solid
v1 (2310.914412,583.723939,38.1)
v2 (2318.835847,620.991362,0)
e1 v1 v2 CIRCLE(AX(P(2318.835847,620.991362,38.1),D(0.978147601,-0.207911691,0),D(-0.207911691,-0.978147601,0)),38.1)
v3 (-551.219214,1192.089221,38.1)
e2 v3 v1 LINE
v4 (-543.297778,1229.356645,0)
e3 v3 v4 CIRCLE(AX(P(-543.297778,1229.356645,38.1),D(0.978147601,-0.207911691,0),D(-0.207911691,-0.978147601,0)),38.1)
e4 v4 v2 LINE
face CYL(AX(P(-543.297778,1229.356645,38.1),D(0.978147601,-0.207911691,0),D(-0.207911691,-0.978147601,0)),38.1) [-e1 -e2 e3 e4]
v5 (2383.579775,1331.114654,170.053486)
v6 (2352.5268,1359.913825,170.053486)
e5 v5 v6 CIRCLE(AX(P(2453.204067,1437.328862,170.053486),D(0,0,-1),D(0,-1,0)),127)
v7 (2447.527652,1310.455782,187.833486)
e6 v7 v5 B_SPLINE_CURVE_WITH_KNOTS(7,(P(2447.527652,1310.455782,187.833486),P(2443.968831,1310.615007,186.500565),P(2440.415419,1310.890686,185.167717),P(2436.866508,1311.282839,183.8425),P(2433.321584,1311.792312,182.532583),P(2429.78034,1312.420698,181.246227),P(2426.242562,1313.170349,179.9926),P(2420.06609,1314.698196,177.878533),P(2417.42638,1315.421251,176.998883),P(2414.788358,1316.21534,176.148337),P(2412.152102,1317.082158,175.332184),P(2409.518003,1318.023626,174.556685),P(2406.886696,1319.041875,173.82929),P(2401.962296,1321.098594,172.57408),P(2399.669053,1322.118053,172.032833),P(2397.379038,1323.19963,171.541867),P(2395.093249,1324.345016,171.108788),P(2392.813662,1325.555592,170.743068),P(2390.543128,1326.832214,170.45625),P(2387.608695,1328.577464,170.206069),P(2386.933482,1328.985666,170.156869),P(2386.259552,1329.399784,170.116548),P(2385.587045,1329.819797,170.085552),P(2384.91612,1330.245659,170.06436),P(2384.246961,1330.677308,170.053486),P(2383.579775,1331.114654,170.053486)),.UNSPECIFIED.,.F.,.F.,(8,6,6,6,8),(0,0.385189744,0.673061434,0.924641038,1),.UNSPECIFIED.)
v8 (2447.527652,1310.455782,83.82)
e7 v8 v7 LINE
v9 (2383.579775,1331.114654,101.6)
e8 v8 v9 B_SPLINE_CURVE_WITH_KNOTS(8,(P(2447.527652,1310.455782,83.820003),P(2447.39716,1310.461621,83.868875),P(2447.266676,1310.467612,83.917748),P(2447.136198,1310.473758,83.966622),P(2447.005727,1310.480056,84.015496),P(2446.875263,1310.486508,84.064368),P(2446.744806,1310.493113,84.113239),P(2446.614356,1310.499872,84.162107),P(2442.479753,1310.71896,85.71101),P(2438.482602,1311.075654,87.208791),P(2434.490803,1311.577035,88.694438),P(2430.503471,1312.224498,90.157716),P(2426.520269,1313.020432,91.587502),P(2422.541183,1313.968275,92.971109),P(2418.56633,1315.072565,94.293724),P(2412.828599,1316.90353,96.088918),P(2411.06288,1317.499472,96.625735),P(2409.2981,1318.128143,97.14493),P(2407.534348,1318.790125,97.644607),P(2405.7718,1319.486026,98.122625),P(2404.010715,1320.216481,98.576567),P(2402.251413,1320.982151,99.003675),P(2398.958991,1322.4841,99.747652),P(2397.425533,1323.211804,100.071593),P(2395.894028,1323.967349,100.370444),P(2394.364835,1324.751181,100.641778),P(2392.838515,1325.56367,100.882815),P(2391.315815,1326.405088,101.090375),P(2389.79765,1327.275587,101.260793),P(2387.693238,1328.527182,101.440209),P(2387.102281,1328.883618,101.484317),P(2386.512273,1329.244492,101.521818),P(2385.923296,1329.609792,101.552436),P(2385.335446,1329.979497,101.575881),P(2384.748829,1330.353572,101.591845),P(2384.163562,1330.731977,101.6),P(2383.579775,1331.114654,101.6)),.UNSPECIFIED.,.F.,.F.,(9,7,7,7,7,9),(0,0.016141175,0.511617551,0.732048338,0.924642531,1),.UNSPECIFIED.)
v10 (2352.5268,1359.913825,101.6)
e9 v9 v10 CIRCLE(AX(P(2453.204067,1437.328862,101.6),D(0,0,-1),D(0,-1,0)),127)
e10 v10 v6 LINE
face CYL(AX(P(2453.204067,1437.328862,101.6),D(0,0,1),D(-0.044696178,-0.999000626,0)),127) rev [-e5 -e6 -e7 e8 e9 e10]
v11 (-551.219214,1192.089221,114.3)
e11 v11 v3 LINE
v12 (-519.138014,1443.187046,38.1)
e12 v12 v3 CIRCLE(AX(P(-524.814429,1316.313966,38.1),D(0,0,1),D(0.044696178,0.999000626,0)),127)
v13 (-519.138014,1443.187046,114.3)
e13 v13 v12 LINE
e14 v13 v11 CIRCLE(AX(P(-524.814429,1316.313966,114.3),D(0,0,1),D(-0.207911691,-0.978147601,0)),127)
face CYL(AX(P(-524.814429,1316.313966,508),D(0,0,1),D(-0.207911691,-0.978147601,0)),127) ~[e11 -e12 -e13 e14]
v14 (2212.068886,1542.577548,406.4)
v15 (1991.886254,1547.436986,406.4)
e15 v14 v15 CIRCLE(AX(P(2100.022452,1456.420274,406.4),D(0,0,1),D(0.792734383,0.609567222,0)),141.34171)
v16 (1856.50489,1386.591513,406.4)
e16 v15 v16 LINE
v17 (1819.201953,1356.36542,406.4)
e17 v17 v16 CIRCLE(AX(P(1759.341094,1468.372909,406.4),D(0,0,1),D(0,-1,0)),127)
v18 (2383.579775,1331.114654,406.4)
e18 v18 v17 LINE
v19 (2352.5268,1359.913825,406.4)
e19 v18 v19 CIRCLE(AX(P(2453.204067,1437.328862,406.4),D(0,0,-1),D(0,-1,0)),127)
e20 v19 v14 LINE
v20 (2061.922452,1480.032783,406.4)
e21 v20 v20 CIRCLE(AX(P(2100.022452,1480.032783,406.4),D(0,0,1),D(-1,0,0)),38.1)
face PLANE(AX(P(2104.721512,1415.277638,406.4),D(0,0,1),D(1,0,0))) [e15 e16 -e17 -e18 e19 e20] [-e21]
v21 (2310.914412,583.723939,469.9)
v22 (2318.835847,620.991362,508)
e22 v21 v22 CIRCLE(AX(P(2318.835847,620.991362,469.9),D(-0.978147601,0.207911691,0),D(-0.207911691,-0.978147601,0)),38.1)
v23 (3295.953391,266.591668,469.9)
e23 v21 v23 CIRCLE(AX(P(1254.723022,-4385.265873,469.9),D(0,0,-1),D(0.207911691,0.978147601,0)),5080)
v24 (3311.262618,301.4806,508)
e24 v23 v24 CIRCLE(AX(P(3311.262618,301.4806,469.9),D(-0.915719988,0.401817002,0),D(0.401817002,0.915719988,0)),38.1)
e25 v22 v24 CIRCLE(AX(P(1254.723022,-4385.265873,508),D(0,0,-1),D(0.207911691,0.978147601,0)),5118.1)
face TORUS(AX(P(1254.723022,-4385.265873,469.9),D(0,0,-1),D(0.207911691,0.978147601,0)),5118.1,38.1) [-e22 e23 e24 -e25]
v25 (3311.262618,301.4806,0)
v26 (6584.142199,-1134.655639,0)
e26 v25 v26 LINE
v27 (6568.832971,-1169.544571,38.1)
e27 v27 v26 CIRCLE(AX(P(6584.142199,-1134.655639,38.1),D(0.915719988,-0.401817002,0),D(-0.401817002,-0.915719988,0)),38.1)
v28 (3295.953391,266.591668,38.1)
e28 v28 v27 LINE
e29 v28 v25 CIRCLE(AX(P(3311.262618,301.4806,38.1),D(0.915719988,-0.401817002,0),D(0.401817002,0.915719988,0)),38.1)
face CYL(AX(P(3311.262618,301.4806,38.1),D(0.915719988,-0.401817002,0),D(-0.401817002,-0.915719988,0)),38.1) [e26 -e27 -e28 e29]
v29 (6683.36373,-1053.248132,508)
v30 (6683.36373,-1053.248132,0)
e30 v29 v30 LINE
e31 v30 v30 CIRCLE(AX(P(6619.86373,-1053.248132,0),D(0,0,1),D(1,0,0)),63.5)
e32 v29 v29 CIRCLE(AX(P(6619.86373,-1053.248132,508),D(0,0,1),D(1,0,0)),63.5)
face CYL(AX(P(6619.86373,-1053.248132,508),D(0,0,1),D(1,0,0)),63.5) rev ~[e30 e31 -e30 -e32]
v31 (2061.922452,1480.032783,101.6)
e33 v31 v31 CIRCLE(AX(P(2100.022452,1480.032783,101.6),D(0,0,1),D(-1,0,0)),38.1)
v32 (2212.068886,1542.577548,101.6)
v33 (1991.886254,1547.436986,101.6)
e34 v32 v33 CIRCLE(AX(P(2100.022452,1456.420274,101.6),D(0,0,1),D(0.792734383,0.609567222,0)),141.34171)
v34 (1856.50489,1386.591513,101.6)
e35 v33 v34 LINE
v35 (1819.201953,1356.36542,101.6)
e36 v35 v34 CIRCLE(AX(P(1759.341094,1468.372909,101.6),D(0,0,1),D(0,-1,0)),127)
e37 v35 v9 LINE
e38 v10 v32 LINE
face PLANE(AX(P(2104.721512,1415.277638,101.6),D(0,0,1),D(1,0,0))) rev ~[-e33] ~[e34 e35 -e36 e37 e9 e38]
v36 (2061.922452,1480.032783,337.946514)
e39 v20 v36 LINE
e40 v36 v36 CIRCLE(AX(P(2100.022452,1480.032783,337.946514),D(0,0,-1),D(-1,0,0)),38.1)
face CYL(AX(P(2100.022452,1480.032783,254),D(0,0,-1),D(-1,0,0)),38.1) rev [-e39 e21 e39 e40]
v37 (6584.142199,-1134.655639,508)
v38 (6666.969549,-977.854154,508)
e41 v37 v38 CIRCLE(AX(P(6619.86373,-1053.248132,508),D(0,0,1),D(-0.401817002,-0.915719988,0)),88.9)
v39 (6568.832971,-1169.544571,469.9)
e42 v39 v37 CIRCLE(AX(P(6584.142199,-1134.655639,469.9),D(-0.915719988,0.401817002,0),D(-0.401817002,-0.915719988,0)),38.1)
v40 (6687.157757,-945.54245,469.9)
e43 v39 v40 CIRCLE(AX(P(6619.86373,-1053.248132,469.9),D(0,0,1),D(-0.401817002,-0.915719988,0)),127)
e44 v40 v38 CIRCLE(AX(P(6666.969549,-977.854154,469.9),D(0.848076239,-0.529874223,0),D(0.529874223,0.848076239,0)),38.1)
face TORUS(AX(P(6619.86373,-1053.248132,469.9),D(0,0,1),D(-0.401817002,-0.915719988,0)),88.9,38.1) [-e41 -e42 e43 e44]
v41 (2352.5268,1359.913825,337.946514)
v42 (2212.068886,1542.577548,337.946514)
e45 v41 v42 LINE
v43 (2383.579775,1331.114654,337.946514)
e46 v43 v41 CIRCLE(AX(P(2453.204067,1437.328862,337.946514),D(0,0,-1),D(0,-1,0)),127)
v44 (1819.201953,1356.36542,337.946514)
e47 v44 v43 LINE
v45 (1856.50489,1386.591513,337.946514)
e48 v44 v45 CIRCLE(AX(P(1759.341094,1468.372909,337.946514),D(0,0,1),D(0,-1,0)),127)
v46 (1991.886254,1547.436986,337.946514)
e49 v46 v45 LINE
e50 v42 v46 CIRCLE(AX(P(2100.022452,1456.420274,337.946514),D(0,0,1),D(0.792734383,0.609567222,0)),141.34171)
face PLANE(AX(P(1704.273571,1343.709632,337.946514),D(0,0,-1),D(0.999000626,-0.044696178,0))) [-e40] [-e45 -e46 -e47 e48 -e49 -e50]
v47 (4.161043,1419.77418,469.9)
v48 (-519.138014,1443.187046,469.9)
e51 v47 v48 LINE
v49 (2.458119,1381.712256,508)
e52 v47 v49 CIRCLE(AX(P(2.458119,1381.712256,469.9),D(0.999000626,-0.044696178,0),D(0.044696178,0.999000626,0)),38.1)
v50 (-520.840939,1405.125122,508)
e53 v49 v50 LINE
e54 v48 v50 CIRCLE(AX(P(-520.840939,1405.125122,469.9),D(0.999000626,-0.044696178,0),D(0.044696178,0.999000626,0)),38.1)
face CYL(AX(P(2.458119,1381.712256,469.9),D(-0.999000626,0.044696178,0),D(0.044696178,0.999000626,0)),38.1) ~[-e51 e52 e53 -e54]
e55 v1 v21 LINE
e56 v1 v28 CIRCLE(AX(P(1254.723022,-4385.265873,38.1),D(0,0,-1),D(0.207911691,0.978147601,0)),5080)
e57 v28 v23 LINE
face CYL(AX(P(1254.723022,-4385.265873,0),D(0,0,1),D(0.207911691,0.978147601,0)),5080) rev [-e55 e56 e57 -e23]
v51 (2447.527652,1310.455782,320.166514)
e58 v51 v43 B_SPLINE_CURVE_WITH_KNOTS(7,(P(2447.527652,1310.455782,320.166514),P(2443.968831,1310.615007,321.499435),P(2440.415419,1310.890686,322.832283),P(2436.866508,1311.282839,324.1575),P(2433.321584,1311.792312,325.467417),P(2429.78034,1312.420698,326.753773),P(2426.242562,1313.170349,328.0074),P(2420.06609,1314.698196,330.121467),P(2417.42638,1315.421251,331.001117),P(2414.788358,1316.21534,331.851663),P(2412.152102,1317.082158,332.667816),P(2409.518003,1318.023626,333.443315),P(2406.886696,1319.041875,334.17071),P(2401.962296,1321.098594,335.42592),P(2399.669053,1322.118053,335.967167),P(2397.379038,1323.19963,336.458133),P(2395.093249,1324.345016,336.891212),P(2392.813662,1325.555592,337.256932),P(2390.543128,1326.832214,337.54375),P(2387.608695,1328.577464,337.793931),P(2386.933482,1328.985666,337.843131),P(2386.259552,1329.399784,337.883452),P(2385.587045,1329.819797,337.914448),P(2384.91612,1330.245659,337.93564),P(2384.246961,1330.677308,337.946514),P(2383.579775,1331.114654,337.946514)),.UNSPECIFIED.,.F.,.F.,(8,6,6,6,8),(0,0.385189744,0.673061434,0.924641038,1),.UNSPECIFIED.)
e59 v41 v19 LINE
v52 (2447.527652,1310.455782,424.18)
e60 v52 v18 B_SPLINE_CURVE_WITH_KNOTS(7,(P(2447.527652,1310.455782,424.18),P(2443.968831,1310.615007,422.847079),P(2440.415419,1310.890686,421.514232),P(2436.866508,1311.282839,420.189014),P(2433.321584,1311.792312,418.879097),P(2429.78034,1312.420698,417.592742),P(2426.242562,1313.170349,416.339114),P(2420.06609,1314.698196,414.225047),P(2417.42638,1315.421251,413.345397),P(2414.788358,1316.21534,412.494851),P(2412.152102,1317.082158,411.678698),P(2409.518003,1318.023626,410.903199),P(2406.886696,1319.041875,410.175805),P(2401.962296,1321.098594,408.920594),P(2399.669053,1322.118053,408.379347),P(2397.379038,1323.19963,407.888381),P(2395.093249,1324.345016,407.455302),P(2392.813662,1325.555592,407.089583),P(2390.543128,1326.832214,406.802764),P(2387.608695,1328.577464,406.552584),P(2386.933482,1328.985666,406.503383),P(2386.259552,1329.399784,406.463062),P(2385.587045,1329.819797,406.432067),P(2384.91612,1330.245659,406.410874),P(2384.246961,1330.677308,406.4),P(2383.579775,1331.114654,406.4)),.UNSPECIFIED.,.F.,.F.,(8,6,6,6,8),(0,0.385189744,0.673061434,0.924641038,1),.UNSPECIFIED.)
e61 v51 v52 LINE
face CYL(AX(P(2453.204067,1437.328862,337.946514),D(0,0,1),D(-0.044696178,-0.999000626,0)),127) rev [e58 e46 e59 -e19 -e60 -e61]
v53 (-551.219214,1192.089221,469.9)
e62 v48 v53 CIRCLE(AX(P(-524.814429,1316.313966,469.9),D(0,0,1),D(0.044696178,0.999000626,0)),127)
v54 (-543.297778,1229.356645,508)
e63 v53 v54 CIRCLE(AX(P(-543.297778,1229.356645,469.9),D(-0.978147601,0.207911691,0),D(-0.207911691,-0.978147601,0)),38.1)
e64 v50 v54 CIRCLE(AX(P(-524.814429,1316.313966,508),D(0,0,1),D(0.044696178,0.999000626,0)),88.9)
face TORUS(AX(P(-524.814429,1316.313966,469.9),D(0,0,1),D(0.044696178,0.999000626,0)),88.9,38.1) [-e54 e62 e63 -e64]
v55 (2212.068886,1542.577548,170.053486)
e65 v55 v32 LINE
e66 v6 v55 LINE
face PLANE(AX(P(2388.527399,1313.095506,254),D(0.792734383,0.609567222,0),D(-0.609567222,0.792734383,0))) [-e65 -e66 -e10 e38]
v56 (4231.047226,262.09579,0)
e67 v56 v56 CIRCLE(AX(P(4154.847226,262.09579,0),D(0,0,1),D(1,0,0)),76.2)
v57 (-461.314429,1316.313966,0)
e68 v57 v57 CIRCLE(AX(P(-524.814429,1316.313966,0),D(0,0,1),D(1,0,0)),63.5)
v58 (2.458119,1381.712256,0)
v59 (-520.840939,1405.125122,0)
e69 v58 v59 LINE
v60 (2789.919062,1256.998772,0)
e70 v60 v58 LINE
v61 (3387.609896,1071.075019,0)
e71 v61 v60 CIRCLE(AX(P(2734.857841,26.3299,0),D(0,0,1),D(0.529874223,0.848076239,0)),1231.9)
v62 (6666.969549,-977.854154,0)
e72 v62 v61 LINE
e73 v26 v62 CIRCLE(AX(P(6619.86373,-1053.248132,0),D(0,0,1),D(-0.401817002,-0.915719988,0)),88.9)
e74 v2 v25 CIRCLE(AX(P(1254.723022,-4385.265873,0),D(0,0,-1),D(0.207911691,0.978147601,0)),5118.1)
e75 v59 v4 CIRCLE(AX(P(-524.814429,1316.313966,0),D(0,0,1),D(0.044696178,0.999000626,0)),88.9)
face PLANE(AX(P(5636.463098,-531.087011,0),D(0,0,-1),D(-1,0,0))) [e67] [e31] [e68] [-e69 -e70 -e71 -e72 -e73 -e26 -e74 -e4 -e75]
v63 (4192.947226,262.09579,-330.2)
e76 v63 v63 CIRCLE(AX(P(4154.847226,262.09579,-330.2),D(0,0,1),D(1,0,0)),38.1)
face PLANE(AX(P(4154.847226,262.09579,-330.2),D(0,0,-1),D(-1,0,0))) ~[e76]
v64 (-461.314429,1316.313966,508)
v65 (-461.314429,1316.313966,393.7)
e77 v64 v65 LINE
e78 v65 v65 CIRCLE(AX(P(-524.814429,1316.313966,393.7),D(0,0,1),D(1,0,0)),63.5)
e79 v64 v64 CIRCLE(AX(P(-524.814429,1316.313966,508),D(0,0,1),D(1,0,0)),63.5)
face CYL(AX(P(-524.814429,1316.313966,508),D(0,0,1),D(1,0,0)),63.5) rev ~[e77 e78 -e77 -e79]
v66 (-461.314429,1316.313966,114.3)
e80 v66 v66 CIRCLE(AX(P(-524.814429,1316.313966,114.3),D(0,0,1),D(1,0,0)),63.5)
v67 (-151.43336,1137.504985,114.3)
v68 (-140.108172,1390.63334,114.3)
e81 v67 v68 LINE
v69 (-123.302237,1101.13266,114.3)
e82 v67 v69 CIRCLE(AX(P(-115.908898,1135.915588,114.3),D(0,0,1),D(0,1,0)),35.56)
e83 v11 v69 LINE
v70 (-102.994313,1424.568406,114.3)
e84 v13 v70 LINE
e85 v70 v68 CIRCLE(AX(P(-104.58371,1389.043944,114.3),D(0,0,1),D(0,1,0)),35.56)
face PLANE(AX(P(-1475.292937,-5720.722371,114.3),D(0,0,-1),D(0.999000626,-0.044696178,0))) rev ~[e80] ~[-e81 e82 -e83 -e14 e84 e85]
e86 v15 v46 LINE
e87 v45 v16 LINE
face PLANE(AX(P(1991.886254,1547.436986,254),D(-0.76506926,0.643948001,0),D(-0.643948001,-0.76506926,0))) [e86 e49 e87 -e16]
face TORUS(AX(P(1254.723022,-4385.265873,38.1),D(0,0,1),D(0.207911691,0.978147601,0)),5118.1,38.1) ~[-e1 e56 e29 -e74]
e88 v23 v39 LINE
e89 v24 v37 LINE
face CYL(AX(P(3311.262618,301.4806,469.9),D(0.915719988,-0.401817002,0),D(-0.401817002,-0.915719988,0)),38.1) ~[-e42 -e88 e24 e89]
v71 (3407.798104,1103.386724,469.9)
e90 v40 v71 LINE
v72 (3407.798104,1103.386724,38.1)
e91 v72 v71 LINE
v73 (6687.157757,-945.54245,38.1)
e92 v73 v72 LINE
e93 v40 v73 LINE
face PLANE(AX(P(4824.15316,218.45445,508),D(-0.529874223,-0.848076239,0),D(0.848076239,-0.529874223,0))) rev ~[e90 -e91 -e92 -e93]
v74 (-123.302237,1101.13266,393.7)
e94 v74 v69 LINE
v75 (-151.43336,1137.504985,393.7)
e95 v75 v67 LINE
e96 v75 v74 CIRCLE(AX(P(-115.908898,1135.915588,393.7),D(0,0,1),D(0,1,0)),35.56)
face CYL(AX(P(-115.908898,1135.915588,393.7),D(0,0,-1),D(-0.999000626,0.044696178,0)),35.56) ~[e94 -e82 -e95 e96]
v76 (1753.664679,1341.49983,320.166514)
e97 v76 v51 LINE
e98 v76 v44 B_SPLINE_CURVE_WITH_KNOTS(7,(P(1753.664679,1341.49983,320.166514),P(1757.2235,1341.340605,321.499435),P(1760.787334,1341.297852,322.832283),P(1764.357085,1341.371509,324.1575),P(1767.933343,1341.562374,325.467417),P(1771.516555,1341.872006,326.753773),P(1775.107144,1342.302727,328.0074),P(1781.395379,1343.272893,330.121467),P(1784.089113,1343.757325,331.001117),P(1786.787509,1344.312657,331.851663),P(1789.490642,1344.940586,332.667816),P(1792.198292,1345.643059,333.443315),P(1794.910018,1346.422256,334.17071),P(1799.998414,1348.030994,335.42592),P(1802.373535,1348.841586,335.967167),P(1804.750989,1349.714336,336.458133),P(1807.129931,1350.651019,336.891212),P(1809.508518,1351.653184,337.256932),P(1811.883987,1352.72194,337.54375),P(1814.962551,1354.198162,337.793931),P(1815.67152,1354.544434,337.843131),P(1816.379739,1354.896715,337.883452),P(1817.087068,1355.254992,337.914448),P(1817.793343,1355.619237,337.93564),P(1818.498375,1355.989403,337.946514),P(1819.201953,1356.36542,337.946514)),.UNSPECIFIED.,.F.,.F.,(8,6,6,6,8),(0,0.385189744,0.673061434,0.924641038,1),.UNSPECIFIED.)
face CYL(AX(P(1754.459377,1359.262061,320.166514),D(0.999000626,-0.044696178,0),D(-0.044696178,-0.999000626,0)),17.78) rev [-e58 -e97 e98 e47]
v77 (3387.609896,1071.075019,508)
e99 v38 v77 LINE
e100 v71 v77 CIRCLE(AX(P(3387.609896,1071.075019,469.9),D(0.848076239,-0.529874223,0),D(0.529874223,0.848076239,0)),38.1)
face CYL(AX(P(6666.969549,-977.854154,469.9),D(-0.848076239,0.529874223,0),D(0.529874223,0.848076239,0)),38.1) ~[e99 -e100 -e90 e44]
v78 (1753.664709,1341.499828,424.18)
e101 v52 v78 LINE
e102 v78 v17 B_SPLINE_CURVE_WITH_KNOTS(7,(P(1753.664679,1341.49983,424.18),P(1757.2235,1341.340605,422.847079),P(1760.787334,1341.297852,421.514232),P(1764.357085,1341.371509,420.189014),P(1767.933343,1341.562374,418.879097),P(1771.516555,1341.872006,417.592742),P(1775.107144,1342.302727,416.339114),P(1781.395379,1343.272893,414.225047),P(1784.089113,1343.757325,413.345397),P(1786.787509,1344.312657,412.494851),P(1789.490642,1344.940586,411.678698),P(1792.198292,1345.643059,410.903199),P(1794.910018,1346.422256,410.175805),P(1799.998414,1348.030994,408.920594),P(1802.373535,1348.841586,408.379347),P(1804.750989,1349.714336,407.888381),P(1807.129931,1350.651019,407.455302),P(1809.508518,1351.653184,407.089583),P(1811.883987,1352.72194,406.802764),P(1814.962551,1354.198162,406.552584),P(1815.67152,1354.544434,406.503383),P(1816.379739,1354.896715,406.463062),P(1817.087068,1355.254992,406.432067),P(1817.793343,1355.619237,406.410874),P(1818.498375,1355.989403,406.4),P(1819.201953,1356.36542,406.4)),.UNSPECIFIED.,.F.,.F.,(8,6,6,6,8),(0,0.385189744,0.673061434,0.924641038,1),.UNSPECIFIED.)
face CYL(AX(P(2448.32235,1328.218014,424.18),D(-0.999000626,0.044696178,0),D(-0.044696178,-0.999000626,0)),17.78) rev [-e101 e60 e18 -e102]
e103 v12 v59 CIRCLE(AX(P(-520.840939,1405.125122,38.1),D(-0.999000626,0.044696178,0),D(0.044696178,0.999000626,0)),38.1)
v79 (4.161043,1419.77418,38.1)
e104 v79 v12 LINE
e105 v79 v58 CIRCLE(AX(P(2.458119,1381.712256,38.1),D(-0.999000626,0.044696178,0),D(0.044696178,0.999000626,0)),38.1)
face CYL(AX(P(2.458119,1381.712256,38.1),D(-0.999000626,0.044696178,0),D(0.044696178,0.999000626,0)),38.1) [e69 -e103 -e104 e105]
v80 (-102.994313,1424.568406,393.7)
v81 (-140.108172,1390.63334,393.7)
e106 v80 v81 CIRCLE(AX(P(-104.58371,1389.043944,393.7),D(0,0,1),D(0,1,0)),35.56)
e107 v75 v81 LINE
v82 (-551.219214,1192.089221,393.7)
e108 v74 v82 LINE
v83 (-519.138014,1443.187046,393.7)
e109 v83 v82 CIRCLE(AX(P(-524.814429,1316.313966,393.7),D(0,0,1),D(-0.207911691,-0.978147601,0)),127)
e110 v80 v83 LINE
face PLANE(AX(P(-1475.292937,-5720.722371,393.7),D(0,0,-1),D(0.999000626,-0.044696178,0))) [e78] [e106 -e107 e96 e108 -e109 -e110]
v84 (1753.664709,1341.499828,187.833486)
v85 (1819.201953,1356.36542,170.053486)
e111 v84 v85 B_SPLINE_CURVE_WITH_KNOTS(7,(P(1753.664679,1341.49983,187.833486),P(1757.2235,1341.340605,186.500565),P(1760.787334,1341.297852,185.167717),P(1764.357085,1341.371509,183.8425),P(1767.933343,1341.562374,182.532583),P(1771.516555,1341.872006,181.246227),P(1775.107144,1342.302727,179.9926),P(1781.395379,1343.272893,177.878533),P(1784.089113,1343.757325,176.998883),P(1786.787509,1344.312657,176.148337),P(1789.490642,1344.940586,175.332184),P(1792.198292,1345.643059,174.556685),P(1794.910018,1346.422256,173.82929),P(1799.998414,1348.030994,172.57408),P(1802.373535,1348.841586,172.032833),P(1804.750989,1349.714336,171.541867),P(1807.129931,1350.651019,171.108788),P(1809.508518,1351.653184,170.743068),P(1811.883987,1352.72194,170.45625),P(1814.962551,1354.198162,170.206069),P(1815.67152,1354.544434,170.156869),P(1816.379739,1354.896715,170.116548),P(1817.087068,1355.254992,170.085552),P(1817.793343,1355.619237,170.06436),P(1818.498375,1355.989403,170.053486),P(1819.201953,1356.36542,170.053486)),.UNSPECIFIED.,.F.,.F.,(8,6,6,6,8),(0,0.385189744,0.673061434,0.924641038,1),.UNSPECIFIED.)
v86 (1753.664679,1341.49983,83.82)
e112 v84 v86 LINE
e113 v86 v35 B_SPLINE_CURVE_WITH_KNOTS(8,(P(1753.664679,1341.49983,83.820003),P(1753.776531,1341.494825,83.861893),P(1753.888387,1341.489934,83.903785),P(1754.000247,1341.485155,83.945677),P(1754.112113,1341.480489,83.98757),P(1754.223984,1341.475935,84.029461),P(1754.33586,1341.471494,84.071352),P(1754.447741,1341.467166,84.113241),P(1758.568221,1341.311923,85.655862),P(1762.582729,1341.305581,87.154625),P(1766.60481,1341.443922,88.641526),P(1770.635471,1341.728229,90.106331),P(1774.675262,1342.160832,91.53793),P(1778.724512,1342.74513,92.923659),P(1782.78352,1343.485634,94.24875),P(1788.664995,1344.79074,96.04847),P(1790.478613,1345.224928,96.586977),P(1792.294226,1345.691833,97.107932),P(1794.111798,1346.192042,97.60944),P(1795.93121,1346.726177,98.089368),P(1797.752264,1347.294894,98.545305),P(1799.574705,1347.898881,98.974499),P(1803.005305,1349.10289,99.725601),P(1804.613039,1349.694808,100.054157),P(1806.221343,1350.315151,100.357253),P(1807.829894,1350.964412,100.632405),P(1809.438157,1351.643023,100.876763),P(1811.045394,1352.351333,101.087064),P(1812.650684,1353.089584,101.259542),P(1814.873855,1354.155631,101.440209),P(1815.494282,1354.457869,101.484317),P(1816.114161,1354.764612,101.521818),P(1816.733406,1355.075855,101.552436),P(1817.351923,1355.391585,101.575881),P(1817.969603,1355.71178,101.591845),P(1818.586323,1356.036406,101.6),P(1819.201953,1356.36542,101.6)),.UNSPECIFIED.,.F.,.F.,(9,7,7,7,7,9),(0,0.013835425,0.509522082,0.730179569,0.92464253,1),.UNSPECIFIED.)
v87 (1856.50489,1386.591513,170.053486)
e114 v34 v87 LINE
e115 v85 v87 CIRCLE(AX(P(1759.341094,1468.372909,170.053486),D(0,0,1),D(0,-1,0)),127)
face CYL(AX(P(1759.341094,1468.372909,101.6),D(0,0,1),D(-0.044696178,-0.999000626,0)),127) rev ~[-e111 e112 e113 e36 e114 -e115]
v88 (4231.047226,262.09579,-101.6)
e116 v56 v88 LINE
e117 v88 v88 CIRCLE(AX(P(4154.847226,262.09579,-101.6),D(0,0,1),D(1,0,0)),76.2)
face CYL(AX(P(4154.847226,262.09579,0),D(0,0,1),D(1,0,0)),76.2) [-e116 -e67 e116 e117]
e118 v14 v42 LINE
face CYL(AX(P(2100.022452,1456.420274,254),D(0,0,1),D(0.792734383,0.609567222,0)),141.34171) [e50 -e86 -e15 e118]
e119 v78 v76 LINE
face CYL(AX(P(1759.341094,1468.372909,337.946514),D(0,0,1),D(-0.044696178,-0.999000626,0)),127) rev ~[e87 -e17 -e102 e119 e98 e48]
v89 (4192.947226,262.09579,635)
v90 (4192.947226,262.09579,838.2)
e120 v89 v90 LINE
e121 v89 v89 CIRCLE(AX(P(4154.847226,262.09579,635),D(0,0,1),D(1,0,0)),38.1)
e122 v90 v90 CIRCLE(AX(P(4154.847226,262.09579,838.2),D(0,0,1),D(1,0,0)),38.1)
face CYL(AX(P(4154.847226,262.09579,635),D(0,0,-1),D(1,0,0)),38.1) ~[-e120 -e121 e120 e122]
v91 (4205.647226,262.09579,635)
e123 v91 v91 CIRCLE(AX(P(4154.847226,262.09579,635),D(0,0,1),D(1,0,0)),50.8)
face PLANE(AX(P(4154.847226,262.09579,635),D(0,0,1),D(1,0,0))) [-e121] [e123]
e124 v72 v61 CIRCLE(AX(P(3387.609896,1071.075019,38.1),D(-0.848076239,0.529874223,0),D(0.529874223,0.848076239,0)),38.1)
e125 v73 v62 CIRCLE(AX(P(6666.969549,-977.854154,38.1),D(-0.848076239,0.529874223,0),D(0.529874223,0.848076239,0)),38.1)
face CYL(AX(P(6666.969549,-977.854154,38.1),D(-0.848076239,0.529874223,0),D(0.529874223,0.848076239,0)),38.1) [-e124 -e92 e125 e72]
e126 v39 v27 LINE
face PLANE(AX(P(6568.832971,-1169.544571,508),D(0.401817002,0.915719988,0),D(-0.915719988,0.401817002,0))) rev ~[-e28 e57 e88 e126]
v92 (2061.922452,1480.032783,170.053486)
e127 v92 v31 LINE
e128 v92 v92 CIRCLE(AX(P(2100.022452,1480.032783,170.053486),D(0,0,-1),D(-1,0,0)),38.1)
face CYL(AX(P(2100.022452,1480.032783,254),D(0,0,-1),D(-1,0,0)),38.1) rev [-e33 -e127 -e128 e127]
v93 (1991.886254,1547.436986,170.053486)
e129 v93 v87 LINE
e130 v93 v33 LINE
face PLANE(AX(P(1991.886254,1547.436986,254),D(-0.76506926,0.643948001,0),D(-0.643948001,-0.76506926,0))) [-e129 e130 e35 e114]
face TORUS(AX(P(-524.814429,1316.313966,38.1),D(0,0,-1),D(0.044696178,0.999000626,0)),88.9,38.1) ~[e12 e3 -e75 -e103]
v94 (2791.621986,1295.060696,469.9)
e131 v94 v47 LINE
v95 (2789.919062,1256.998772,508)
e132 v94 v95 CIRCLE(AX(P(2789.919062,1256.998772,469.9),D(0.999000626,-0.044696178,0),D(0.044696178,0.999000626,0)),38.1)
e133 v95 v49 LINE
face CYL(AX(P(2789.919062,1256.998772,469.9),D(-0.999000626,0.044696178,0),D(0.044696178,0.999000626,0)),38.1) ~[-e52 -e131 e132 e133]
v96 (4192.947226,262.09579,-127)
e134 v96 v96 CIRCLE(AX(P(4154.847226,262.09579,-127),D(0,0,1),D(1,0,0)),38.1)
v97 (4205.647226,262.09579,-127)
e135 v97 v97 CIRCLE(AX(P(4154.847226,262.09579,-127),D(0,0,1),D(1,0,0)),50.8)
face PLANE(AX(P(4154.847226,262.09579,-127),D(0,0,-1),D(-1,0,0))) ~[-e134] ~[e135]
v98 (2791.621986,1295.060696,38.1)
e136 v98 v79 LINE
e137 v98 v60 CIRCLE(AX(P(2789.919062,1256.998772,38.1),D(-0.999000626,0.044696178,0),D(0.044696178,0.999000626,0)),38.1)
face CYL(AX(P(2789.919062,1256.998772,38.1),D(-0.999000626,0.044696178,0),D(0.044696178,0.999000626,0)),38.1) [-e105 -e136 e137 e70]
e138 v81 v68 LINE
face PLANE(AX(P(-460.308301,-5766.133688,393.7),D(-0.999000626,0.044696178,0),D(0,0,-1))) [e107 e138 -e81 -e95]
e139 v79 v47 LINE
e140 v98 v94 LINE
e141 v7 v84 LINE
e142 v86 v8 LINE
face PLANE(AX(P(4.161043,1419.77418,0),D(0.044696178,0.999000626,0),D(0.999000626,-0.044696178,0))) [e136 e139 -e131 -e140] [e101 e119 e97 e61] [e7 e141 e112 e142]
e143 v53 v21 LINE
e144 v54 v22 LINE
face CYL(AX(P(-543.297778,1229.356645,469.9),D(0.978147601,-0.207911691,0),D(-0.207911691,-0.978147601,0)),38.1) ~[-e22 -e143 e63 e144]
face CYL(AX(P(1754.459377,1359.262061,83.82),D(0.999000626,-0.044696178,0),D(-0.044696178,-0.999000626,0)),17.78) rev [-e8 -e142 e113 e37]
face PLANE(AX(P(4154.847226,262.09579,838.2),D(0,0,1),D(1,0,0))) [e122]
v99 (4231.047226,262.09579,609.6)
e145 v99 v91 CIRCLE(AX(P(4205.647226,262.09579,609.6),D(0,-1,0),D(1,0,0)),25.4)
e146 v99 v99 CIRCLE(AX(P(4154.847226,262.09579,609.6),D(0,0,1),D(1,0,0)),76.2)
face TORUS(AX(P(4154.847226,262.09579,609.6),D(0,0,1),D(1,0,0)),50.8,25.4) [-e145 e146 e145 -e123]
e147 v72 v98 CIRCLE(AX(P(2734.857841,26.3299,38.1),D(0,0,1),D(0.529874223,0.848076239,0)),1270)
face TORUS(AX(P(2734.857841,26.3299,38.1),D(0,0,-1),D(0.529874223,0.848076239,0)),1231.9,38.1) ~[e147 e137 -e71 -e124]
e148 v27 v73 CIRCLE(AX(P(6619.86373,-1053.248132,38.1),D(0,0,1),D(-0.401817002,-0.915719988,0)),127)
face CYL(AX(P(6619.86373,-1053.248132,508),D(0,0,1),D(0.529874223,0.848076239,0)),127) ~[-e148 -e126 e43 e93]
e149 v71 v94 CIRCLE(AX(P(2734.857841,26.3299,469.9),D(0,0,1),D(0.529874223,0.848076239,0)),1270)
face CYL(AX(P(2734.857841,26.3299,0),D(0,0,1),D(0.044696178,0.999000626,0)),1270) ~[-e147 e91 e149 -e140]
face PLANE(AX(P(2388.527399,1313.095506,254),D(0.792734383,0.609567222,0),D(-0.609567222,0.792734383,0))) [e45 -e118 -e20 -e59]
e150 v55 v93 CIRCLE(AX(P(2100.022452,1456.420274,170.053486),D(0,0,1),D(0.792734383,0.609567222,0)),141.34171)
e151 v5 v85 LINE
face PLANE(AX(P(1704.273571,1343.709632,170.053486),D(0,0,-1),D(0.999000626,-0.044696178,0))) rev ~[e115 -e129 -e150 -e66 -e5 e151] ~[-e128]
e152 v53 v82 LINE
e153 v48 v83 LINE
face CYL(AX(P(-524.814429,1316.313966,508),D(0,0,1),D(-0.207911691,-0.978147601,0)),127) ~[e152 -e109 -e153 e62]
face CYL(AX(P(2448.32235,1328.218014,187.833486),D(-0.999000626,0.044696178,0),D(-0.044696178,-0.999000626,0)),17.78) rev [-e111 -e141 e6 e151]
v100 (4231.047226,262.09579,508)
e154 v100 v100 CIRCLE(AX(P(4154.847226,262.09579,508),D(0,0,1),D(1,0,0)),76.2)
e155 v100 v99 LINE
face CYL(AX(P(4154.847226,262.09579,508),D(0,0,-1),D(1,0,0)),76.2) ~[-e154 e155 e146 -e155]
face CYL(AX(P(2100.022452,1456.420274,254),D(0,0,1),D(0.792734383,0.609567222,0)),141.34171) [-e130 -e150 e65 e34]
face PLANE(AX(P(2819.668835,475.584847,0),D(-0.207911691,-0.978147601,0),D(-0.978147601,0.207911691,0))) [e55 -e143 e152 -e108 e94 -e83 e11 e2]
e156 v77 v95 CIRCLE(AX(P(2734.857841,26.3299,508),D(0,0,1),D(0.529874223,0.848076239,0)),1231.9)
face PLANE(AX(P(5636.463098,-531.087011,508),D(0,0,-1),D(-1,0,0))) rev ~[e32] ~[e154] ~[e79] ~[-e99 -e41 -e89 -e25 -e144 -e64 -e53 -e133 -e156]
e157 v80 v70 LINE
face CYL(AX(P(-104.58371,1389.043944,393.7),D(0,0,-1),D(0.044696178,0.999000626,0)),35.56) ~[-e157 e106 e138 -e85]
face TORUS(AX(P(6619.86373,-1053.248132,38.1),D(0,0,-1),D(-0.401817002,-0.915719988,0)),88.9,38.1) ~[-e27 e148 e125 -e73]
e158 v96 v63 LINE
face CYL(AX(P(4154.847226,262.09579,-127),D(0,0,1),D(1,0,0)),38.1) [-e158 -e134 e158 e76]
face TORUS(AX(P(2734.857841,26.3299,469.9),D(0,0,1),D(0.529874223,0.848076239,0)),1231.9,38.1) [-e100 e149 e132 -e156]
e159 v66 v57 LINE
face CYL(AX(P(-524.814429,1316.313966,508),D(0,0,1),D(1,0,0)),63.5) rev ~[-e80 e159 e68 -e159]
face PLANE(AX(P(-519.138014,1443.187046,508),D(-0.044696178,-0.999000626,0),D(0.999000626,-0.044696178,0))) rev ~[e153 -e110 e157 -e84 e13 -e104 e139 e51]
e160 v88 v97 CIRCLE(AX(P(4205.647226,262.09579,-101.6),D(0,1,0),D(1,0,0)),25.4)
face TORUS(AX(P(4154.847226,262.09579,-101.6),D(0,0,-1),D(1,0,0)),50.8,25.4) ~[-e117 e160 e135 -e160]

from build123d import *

# Parameters (mm, degrees)
BOSS_EXTRUDE1_DEPTH      = 508
FILLET1_R                = 1270
FILLET2_R                = 5080
SKETCH2_R                = 63.5
BOSS_EXTRUDE2_DEPTH      = 508
FILLET7_R                = 38.1
SKETCH8_R                = 76.2
BOSS_EXTRUDE3_DEPTH      = 127
SKETCH10_R               = 38.1
BOSS_EXTRUDE4_DEPTH      = 152.4
SKETCH11_W               = 760.745095085
SKETCH11_H               = 167.893028408
CUT_EXTRUDE10_DEPTH      = 304.8
FILLET8_R                = 127
FILLET9_R                = 17.78
CUT_EXTRUDE11_DEPTH      = 7199.486465925
CUT_EXTRUDE11_DEPTH_BACK = 7199.486465925
SKETCH12_W               = 1016
SKETCH12_H               = 279.4
FILLET10_R               = 35.56
SKETCH13_R               = 38.1
BOSS_EXTRUDE5_DEPTH      = 203.2
FILLET11_R               = 25.4


with BuildPart() as part:
    # Sketch1 → Boss-Extrude1 (new body)
    with BuildSketch(Plane.XY):
        Polygon((4.161043322, 1419.774180046), (3124.883876206, 1280.150261915), (4824.15316033, 218.45444974), (4595.126937627, -303.484366054), (2819.668835365, 475.584847472), (4.161043322, 1074.039503103), align=None)
    extrude(amount=BOSS_EXTRUDE1_DEPTH)

    # Fillet1
    fillet1_edges = [part.edges().sort_by_distance(p)[0] for p in [
        (3124.883876206, 1280.150261915, 254),
    ]]
    fillet(fillet1_edges, radius=FILLET1_R)

    # Fillet2
    fillet2_edges = [part.edges().sort_by_distance(p)[0] for p in [
        (2819.668835365, 475.584847472, 254),
    ]]
    fillet(fillet2_edges, radius=FILLET2_R)

    # Sketch2 → Boss-Extrude2 (add)
    # profile 1 of 2: a face of its own
    with BuildSketch(Plane.XY.offset(508)):
        with BuildLine():
            Line((4824.15316033, 218.45444974), (6687.157756782, -945.542449749))
            ThreePointArc((6687.157756782, -945.542449749), (6732.159594174, -1112.566249031), (6568.832971244, -1169.544570675))
            Line((6568.832971244, -1169.544570675), (4595.126937627, -303.484366054))
            Line((4595.126937627, -303.484366054), (4824.15316033, 218.45444974))
        make_face()
        with Locations((6619.863730452, -1053.248132145)):
            Circle(SKETCH2_R, mode=Mode.SUBTRACT)
    # profile 2 of 2: a face of its own
    with BuildSketch(Plane.XY.offset(508)):
        with BuildLine():
            Line((-519.138014459, 1443.18704582), (4.161043322, 1419.774180046))
            Line((4.161043322, 1419.774180046), (4.161043322, 1074.039503103))
            Line((4.161043322, 1074.039503103), (-551.219213736, 1192.089220963))
            ThreePointArc((-551.219213736, 1192.089220963), (-650.790401888, 1332.40912874), (-519.138014459, 1443.18704582))
        make_face()
        with Locations((-524.814429002, 1316.313966256)):
            Circle(SKETCH2_R, mode=Mode.SUBTRACT)
    extrude(amount=-BOSS_EXTRUDE2_DEPTH)

    # Fillet7
    fillet7_edges = [part.edges().sort_by_distance(p)[0] for p in [
        (879.847598956, 887.906579737, 508),
        (5047.477930293, 78.922137092, 0),
        (3112.087026658, 1239.012109425, 0),
        (5047.477930293, 78.922137092, 508),
        (3112.087026658, 1239.012109425, 508),
        (4932.393180935, -451.476451357, 0),
        (4932.393180935, -451.476451357, 508),
        (2811.530205443, 450.305591926, 0),
        (2811.530205443, 450.305591926, 508),
        (1136.24198574, 1369.123870715, 508),
        (-650.790401888, 1332.40912874, 0),
        (-650.790401888, 1332.40912874, 508),
        (6732.159594174, -1112.566249031, 0),
        (6732.159594174, -1112.566249031, 508),
        (1136.24198574, 1369.123870715, 0),
        (879.847598956, 887.906579737, 0),
    ]]
    fillet(fillet7_edges, radius=FILLET7_R)

    # Sketch8 → Boss-Extrude3 (add)
    with BuildSketch(Plane.XY.offset(508)):
        with Locations((4154.847226234, 262.095790155)):
            Circle(SKETCH8_R)
    boss_extrude3 = extrude(amount=BOSS_EXTRUDE3_DEPTH)

    # Mirror1: Boss-Extrude3 across plane
    add(boss_extrude3.mirror(Plane.XY.offset(254)))

    # Sketch10 → Boss-Extrude4 (add, symmetric)
    with BuildSketch(Plane.XY.offset(254)):
        with BuildLine():
            Line((1991.886254442, 1547.436985797), (1816.197026703, 1338.702076773))
            Line((1816.197026703, 1338.702076773), (2388.527398841, 1313.09550634))
            Line((2388.527398841, 1313.09550634), (2212.068885606, 1542.577547744))
            ThreePointArc((2212.068885606, 1542.577547744), (2103.141108974, 1597.727574068), (1991.886254442, 1547.436985797))
        make_face()
        with Locations(Location((2100.022452123, 1480.032783348, 0), (0, 0, 180))):
            Circle(SKETCH10_R, mode=Mode.SUBTRACT)
    extrude(amount=BOSS_EXTRUDE4_DEPTH, both=True)

    # Sketch11 → Cut-Extrude10 (cut)
    with BuildSketch(Plane(origin=(63.403372764, 1417.12362548, 0), x_dir=(0.9990006264844701, -0.04469617750587411, 0), z_dir=(0.04469617750587411, 0.9990006264844701, 0))):
        with Locations((2022.884228843, -254)):
            Rectangle(SKETCH11_W, SKETCH11_H)
    extrude(amount=CUT_EXTRUDE10_DEPTH, mode=Mode.SUBTRACT)

    # Fillet8
    fillet8_edges = [part.edges().sort_by_distance(p)[0] for p in [
        (1816.197026703, 1338.702076773, 372.173257102),
        (2388.527398841, 1313.09550634, 372.173257102),
        (2388.527398841, 1313.09550634, 135.826742898),
        (1816.197026703, 1338.702076773, 135.826742898),
    ]]
    fillet(fillet8_edges, radius=FILLET8_R)

    # Fillet9
    fillet9_edges = [part.edges().sort_by_distance(p)[0] for p in [
        (2100.596165657, 1325.977806077, 101.6),
        (2100.596165657, 1325.977806077, 406.4),
        (2100.596165657, 1325.977806077, 337.946514204),
        (2100.596165657, 1325.977806077, 170.053485796),
    ]]
    fillet(fillet9_edges, radius=FILLET9_R)

    # Sketch12 → Cut-Extrude11 (cut, two sides: drawn at the far end of the back side and taken through both)
    with BuildSketch(Plane(origin=(63.403372764, 1417.12362548, 0), x_dir=(0.99900062648447, -0.04469617750587411, 0), z_dir=(0.04469617750587411, 0.9990006264844701, 0)).offset(-CUT_EXTRUDE11_DEPTH_BACK)):
        with Locations((-710.12414605, -254)):
            Rectangle(SKETCH12_W, SKETCH12_H)
    extrude(amount=CUT_EXTRUDE11_DEPTH + CUT_EXTRUDE11_DEPTH_BACK, mode=Mode.SUBTRACT)

    # Fillet10
    fillet10_edges = [part.edges().sort_by_distance(p)[0] for p in [
        (-138.518775768, 1426.15780219, 254),
        (-152.780354031, 1107.398426908, 254),
    ]]
    fillet(fillet10_edges, radius=FILLET10_R)

    # Sketch13 → Boss-Extrude5 (add)
    with BuildSketch(Plane.XY.offset(635)):
        with Locations((4154.847226234, 262.095790155)):
            Circle(SKETCH13_R)
    boss_extrude5 = extrude(amount=BOSS_EXTRUDE5_DEPTH)

    # Mirror3: Boss-Extrude5 across plane
    add(boss_extrude5.mirror(Plane.XY.offset(254)))

    # Fillet11
    fillet11_edges = [part.edges().sort_by_distance(p)[0] for p in [
        (4078.647226234, 262.095790155, 635),
        (4078.647226234, 262.095790155, -127),
    ]]
    fillet(fillet11_edges, radius=FILLET11_R)


solid = part.part
